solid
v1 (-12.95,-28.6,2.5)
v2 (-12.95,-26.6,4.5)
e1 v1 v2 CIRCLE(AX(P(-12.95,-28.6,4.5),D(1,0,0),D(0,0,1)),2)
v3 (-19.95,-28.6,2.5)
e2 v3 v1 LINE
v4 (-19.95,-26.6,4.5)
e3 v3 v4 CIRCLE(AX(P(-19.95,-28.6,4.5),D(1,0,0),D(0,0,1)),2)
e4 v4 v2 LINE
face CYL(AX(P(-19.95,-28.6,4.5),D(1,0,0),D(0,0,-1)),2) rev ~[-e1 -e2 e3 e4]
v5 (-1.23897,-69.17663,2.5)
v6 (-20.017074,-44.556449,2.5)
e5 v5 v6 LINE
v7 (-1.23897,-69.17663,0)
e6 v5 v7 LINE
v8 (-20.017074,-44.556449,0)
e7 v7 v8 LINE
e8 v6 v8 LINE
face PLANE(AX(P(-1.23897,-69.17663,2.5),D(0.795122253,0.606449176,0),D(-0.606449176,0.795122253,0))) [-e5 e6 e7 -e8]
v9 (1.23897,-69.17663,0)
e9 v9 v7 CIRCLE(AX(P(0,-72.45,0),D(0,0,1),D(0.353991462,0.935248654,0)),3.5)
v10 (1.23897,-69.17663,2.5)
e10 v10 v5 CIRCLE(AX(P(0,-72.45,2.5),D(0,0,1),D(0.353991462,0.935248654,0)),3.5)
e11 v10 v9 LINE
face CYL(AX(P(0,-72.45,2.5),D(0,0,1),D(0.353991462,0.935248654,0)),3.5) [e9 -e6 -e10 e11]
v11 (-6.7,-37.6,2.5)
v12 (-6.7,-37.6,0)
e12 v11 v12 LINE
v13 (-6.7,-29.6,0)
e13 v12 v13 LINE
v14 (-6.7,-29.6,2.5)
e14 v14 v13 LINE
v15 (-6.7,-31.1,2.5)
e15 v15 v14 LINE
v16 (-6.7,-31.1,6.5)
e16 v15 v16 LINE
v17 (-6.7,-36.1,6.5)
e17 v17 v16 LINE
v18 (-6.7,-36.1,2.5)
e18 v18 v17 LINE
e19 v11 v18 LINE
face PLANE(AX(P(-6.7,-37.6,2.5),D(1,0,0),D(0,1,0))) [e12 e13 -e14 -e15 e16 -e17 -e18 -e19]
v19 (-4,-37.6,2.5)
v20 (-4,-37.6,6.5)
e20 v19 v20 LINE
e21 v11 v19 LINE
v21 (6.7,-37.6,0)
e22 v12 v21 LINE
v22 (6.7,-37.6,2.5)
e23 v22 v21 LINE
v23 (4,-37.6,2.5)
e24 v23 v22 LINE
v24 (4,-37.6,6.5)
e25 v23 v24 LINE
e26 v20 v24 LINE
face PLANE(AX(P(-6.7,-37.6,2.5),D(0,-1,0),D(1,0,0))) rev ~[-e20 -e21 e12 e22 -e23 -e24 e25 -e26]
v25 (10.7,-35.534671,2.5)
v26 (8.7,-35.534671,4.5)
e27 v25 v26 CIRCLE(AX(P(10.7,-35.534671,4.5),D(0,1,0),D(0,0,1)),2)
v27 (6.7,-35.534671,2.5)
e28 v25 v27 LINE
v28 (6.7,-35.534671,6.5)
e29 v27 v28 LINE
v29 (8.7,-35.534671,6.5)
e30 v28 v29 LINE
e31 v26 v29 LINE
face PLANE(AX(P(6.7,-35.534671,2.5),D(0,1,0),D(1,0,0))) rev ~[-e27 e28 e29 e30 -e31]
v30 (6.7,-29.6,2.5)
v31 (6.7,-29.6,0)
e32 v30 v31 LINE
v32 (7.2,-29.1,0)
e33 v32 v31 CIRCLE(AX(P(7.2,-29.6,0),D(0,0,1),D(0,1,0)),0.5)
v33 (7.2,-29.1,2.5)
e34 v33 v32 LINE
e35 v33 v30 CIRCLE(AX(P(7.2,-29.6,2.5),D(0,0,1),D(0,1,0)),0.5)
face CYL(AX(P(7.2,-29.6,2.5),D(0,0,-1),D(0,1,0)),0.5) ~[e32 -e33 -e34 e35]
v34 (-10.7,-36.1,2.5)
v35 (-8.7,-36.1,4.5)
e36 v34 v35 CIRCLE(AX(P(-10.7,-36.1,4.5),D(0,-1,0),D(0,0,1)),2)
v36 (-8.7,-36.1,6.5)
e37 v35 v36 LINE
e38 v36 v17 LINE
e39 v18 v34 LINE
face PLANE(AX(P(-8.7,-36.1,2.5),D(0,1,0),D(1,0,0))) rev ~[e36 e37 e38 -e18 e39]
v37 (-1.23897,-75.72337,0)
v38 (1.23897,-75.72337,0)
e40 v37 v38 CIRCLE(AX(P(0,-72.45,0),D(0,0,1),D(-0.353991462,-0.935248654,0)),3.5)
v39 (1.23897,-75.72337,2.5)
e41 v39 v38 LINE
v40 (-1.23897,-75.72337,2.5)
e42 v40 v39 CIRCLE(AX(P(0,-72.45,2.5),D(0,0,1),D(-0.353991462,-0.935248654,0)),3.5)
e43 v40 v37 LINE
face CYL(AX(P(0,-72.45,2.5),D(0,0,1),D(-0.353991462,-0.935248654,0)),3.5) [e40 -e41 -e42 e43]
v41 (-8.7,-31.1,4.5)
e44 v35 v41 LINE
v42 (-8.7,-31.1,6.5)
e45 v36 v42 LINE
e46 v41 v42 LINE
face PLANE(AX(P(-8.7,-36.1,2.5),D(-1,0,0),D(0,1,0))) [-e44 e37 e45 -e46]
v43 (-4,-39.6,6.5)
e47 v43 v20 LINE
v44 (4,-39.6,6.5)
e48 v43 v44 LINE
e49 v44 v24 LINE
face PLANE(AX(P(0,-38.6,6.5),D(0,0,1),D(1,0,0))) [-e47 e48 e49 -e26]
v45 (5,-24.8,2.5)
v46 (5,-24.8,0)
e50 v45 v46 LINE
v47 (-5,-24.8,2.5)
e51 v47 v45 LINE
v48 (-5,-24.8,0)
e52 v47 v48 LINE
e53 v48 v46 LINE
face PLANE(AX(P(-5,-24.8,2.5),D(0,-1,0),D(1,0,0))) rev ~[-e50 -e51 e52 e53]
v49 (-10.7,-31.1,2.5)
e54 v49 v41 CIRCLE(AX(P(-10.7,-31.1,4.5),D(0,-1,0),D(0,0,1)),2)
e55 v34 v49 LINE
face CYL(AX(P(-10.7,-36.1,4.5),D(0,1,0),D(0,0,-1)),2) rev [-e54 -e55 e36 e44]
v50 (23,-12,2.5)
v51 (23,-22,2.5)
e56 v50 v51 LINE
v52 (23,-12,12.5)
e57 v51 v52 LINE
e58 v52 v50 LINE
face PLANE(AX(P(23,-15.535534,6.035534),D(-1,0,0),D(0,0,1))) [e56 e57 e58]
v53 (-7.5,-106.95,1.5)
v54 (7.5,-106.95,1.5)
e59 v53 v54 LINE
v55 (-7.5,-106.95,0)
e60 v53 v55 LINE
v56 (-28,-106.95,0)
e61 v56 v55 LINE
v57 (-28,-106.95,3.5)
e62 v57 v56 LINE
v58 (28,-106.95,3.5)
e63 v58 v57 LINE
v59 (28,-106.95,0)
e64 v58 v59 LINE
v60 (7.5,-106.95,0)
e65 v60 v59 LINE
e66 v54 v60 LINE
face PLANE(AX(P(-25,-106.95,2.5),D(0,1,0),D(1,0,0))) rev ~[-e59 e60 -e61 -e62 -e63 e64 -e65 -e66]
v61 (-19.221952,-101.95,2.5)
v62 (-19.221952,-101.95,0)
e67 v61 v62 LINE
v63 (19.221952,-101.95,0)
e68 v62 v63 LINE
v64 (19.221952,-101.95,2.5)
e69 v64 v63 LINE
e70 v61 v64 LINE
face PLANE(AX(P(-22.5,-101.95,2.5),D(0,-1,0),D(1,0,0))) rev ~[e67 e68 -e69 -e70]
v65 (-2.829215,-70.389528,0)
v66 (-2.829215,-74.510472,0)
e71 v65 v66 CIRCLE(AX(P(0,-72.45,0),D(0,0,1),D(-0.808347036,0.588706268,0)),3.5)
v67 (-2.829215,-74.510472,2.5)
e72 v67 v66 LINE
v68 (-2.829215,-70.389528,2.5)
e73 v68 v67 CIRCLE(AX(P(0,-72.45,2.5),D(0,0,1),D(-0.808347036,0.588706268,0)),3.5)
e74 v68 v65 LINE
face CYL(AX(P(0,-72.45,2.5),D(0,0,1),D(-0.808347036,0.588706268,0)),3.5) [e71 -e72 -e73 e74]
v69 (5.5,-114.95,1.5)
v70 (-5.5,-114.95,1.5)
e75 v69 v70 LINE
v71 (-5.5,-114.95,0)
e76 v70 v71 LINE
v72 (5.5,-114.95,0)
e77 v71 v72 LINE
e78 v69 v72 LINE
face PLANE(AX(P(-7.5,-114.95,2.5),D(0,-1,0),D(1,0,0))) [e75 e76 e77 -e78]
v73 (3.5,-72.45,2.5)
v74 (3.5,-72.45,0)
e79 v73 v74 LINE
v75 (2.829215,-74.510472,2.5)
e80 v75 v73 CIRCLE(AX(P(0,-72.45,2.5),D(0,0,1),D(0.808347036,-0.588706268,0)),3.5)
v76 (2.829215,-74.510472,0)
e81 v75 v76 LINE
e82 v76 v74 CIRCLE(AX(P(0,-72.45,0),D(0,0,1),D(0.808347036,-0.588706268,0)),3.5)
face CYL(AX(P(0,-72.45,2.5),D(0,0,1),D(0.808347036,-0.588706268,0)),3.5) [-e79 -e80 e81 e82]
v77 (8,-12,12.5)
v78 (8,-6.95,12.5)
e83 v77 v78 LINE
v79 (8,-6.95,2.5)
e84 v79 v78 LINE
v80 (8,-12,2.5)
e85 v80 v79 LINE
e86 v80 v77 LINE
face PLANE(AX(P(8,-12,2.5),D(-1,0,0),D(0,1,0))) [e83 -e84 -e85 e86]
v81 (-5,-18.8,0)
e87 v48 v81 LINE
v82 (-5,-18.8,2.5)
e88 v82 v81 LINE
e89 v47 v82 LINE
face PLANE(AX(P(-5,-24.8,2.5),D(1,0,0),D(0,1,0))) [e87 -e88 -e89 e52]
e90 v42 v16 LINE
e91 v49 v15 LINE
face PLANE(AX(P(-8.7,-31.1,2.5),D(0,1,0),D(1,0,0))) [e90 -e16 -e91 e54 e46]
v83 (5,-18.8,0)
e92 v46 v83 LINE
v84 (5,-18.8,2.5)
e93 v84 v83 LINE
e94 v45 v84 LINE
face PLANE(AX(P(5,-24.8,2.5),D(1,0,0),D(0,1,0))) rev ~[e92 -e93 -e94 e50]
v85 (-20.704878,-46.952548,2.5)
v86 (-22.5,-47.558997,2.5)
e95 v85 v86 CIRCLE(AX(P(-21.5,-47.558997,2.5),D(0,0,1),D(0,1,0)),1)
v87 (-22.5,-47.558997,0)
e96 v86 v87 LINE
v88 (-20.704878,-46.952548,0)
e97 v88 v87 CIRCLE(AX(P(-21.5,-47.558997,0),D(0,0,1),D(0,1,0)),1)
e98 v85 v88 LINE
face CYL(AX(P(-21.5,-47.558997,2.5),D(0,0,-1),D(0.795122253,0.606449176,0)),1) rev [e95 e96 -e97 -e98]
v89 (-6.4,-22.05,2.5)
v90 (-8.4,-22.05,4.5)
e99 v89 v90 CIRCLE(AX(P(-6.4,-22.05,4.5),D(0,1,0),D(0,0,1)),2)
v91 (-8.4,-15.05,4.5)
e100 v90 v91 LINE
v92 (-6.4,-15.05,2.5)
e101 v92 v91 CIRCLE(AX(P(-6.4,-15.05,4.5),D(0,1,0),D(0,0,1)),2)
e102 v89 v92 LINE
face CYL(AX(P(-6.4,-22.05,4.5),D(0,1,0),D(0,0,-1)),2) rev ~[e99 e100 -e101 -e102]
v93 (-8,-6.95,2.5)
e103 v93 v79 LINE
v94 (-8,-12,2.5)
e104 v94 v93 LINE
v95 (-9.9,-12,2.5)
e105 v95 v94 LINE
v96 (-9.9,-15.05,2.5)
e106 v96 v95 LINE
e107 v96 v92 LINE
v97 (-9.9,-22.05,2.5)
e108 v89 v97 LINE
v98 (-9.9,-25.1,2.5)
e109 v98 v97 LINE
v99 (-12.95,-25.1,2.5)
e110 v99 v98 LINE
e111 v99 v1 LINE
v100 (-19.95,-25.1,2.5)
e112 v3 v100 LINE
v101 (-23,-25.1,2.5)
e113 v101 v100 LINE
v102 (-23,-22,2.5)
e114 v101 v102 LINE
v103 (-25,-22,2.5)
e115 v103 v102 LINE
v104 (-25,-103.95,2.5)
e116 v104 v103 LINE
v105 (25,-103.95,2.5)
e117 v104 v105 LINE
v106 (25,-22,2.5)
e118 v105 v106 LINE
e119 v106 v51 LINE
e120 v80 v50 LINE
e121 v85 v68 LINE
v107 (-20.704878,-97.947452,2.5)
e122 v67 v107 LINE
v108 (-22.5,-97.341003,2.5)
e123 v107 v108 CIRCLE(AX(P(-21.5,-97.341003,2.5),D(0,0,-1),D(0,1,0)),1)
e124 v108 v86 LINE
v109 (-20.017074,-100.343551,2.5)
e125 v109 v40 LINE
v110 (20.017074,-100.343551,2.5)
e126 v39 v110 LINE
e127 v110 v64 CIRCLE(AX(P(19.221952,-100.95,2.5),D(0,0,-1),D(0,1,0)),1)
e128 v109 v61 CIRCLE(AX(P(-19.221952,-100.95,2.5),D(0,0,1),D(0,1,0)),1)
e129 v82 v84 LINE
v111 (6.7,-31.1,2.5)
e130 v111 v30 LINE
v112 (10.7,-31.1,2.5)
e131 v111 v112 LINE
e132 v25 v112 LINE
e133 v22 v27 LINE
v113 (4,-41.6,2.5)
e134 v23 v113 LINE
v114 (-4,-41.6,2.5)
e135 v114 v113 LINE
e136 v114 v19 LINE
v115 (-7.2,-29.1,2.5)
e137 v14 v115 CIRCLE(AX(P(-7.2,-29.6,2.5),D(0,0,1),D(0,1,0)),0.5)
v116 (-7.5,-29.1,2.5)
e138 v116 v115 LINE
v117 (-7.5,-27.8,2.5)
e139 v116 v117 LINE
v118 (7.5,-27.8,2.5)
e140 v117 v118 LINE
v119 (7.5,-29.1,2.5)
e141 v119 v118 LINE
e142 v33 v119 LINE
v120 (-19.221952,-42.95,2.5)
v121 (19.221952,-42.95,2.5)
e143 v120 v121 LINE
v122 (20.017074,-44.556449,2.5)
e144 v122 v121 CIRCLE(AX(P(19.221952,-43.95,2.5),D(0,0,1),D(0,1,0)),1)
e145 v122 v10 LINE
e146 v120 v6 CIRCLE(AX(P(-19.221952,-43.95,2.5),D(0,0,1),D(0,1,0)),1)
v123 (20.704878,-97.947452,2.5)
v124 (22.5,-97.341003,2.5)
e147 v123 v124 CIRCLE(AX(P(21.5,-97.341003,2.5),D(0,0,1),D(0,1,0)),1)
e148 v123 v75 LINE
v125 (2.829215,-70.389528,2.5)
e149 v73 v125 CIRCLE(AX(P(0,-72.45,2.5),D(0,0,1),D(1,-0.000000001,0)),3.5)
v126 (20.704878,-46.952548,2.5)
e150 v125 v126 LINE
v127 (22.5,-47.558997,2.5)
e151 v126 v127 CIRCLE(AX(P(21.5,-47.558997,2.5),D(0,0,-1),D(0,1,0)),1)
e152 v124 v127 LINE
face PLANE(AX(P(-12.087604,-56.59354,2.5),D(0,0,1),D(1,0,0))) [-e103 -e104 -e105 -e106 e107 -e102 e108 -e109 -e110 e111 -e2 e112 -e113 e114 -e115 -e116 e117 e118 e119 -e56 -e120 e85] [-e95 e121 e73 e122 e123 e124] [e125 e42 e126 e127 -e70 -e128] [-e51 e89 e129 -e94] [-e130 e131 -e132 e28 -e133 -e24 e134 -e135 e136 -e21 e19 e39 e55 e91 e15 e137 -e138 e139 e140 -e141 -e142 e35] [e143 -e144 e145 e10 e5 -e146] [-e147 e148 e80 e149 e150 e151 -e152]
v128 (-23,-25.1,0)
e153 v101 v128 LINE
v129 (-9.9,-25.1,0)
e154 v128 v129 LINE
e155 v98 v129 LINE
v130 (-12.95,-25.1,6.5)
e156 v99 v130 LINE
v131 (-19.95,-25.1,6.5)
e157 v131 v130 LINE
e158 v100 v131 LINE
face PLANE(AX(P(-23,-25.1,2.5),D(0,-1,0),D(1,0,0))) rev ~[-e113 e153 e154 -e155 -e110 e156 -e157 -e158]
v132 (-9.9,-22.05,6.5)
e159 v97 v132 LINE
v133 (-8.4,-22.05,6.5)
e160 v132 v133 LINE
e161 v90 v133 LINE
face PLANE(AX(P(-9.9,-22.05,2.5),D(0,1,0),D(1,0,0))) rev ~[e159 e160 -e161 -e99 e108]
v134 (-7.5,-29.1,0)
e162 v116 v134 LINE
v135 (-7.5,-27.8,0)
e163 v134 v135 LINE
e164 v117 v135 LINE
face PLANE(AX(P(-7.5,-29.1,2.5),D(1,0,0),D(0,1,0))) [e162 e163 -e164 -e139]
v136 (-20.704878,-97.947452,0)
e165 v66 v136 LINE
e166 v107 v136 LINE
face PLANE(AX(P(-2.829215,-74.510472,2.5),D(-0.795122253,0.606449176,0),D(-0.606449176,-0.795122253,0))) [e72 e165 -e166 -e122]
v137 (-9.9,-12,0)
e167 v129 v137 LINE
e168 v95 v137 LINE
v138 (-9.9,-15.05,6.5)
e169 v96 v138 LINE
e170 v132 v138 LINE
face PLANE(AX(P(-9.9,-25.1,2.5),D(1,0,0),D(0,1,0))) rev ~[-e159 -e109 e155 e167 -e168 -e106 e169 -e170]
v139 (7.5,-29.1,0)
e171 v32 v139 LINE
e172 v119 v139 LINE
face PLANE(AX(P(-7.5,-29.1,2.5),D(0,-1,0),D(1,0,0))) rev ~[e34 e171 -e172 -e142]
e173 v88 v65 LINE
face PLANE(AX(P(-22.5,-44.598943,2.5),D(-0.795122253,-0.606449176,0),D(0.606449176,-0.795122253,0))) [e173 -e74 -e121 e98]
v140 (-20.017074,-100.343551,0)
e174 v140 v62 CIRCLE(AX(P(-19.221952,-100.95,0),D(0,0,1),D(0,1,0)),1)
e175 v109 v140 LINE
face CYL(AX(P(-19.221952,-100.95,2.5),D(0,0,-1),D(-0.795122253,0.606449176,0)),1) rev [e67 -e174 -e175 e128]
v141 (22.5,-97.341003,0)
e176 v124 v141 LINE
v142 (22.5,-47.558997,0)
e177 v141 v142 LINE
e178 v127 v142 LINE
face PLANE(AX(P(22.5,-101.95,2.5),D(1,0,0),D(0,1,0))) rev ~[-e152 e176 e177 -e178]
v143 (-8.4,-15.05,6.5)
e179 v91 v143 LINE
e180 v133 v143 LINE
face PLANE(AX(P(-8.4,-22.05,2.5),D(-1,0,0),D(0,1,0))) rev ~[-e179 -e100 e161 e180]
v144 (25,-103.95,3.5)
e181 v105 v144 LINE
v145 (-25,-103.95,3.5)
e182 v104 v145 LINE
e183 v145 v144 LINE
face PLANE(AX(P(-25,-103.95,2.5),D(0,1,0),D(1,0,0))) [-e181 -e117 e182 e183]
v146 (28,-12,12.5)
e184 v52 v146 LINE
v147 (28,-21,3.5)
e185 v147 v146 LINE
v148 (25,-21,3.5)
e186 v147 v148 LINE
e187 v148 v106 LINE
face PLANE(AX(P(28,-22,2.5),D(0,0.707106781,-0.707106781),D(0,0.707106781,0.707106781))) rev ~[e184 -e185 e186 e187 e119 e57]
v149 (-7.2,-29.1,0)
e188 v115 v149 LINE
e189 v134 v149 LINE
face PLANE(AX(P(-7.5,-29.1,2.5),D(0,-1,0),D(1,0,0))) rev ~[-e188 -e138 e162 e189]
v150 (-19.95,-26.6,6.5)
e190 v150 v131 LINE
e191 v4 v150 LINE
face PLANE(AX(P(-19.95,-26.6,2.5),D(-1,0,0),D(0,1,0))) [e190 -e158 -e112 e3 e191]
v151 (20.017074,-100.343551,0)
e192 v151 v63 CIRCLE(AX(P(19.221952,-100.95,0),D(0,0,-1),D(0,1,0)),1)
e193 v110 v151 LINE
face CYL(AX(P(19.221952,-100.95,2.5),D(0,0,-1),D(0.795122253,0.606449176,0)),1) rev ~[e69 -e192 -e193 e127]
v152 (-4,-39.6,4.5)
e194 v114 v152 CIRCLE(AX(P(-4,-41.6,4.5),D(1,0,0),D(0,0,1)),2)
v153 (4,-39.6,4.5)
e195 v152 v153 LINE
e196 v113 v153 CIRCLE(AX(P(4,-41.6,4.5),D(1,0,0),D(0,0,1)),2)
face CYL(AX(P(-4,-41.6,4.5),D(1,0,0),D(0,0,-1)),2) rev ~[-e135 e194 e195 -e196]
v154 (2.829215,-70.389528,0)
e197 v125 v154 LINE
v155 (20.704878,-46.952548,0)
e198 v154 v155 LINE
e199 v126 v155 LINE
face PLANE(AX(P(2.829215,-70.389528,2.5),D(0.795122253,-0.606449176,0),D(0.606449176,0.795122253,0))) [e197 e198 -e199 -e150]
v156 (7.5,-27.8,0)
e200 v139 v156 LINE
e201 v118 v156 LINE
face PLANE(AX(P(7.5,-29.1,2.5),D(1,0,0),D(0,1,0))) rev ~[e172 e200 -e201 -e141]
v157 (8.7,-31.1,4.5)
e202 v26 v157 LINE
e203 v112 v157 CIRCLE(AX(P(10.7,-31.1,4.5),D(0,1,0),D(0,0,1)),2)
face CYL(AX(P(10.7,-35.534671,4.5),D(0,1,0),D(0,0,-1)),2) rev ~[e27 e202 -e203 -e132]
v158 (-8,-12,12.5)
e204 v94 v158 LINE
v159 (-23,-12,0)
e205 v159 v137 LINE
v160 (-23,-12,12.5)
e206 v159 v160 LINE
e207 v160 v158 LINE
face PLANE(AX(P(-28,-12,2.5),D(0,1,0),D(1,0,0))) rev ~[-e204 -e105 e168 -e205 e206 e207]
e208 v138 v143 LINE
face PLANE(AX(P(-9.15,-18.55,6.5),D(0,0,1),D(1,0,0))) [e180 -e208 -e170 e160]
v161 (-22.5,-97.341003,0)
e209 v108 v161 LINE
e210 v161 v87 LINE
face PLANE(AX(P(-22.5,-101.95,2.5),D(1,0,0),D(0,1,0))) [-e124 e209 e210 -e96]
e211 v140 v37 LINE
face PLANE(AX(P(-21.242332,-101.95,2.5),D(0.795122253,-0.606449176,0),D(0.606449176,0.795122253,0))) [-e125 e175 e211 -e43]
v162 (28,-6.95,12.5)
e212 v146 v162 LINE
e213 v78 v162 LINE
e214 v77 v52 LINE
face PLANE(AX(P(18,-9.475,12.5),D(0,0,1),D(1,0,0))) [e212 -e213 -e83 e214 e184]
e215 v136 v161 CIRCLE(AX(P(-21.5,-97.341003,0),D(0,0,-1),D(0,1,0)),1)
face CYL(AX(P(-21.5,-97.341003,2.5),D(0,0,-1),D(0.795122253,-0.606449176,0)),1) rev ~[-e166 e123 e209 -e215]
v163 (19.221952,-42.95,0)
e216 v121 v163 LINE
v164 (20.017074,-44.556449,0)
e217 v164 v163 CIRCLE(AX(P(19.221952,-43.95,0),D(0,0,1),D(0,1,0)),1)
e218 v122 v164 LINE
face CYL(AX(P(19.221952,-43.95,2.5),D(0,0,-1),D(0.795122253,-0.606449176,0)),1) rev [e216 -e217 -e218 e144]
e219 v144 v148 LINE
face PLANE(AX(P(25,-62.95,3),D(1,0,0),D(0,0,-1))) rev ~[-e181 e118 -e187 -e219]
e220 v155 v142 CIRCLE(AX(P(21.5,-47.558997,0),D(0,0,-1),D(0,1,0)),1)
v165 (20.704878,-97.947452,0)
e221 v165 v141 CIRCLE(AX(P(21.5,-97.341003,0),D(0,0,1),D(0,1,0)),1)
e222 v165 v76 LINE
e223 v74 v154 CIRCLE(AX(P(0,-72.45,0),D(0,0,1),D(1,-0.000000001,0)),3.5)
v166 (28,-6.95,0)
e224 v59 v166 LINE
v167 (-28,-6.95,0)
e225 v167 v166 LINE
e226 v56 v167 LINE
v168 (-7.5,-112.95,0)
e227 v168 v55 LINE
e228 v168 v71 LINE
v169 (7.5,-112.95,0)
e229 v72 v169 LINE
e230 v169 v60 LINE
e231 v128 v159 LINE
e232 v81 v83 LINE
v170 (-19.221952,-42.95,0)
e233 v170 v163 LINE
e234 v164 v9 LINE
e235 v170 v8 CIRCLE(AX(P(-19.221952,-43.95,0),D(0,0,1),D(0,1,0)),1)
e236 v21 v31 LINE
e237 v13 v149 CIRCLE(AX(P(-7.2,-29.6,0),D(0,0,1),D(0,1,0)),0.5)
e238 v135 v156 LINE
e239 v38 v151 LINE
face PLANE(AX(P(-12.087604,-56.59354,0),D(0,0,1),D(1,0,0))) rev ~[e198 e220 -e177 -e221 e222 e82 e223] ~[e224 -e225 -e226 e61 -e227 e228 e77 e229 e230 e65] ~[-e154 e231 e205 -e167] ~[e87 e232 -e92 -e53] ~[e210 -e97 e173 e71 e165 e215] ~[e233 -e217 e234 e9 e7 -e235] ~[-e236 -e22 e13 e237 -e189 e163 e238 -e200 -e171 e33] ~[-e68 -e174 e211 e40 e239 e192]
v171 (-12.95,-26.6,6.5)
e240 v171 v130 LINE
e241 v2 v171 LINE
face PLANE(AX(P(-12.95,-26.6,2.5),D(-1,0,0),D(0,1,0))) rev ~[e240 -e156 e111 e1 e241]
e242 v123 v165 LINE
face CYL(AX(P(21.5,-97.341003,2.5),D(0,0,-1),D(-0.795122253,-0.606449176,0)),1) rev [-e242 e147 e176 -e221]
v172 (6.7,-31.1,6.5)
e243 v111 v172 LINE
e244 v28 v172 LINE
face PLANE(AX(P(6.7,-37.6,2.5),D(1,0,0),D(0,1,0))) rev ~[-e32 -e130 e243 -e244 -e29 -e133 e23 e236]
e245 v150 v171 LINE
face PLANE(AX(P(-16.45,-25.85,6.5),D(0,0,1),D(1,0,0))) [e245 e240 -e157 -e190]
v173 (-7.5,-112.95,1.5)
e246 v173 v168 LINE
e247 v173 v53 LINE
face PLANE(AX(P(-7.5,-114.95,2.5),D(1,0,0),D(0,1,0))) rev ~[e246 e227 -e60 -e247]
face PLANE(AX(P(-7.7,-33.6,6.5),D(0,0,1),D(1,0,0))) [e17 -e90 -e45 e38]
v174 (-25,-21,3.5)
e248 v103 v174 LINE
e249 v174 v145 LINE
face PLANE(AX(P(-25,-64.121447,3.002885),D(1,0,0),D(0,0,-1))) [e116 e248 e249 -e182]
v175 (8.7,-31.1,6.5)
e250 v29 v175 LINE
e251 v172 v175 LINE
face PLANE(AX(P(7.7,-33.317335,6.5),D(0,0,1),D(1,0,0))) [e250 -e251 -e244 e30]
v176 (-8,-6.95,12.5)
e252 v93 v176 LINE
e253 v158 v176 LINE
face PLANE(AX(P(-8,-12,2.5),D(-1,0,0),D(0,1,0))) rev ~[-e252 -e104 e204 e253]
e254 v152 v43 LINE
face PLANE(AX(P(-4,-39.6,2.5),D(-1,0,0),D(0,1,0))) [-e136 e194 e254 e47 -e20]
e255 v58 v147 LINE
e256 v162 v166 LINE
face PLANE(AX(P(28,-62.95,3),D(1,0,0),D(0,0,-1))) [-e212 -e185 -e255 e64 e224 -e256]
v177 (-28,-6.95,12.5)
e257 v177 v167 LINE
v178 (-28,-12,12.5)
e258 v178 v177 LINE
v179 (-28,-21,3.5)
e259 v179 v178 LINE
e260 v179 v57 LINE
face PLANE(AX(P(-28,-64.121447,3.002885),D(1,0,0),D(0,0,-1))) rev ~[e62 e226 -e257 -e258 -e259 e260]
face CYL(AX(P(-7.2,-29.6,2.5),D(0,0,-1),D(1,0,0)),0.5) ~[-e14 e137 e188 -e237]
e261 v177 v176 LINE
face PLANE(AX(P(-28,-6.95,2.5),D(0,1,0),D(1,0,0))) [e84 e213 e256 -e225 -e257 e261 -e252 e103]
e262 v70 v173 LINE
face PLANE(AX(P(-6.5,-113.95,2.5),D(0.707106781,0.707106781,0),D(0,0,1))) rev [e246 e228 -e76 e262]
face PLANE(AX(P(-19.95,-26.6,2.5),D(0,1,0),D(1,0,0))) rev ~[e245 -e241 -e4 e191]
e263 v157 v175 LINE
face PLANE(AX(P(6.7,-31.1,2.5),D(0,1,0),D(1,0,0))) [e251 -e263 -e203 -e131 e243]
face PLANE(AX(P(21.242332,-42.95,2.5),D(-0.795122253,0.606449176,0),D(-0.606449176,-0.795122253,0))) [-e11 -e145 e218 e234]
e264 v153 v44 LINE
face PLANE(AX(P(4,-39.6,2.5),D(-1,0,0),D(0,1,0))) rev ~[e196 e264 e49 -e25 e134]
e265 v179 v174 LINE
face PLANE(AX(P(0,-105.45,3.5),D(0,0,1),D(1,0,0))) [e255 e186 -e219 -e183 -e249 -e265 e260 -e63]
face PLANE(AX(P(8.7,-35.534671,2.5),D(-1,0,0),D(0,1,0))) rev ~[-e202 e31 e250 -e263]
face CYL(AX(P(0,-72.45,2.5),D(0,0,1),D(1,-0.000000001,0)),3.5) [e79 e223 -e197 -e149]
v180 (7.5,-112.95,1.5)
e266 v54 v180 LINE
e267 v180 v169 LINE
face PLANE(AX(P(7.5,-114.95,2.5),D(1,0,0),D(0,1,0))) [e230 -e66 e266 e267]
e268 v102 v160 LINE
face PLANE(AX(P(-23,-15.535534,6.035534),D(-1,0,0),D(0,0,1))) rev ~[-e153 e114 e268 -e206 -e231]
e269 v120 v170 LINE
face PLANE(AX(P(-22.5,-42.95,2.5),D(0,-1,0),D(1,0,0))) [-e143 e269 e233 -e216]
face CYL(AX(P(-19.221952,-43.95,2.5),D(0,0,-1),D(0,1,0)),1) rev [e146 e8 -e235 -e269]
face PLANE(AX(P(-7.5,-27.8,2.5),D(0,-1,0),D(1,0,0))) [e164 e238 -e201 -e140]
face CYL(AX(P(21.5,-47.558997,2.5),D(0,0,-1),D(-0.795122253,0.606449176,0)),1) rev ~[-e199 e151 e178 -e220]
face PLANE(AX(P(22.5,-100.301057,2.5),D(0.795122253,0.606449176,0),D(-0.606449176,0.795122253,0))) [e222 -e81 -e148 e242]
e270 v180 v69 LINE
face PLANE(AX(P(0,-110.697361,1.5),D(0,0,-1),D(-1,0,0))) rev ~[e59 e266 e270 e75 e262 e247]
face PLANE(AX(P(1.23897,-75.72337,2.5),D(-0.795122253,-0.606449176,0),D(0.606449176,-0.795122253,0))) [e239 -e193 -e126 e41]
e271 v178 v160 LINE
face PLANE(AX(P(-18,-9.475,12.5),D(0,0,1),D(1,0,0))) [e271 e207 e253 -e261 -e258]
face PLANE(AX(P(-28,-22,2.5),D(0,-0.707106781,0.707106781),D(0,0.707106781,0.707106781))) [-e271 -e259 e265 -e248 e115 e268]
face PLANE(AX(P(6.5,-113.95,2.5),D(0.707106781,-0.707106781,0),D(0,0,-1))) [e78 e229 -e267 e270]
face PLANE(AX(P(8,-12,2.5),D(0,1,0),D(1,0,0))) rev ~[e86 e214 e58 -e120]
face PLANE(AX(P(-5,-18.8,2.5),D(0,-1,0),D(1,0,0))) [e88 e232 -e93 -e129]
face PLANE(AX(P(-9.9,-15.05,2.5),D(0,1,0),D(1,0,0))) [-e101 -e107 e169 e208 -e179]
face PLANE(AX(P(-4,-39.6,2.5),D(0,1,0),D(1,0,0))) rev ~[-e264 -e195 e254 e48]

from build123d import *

# Parameters (mm, degrees)
SKETCH1_W            = 56
SKETCH1_H            = 100
BOSS_EXTRUDE1_DEPTH  = 2.5
SKETCH2_W            = 20
SKETCH2_H            = 5.05
BOSS_EXTRUDE2_DEPTH  = 10
SKETCH3_W            = 13.1
SKETCH3_H            = 13.1
CUT_EXTRUDE1_DEPTH   = 112.005866962
BOSS_EXTRUDE3_DEPTH  = 5
BOSS_EXTRUDE4_DEPTH  = 5
SKETCH6_W            = 7
SKETCH6_H            = 1.5
SKETCH6_W_2          = 1.5
SKETCH6_H_2          = 7
BOSS_EXTRUDE5_DEPTH  = 4
SKETCH7_W            = 15
SKETCH7_H            = 1.3
CUT_EXTRUDE2_DEPTH   = 112.005866962
SKETCH8_W            = 13.4
SKETCH8_H            = 8.5
SKETCH8_W_2          = 10
SKETCH8_H_2          = 6
CUT_EXTRUDE3_DEPTH   = 112.005866962
FILLET1_R            = 2
SKETCH9_W            = 15
SKETCH9_H            = 8
BOSS_EXTRUDE6_DEPTH  = 2.5
CHAMFER1_SIZE        = 2
SKETCH10_W           = 45
SKETCH10_H           = 59
CUT_EXTRUDE4_DEPTH   = 4
BOSS_EXTRUDE7_DEPTH  = 2.5
FILLET2_R            = 1
FILLET3_R            = 0.5
CUT_EXTRUDE5_DEPTH   = 1
SKETCH13_W           = 1
SKETCH13_H           = 88
BOSS_EXTRUDE8_DEPTH  = 3
BOSS_EXTRUDE9_DEPTH  = 3
SKETCH15_W           = 50
SKETCH15_H           = 3
BOSS_EXTRUDE10_DEPTH = 1
SKETCH16_W           = 2
SKETCH16_H           = 5
SKETCH16_W_2         = 8
SKETCH16_H_2         = 2
SKETCH16_H_3         = 4.4346707
BOSS_EXTRUDE11_DEPTH = 4
FILLET4_R            = 2


with BuildPart() as part:
    # Sketch1 → Boss-Extrude1 (new body)
    with BuildSketch(Plane.XY):
        with Locations((0, -56.95)):
            Rectangle(SKETCH1_W, SKETCH1_H)
    extrude(amount=BOSS_EXTRUDE1_DEPTH)

    # Sketch2 → Boss-Extrude2 (add)
    with BuildSketch(Plane.XY.offset(2.5)):
        with Locations((-18, -9.475)):
            Rectangle(SKETCH2_W, SKETCH2_H)
        with Locations((18, -9.475)):
            Rectangle(SKETCH2_W, SKETCH2_H)
    extrude(amount=BOSS_EXTRUDE2_DEPTH)

    # Sketch3 → Cut-Extrude1 (cut, through all)
    with BuildSketch(Plane.XY.offset(2.5)):
        with Locations((-16.45, -18.55)):
            Rectangle(SKETCH3_W, SKETCH3_H)
    extrude(amount=-CUT_EXTRUDE1_DEPTH, mode=Mode.SUBTRACT)

    # Sketch4 → Boss-Extrude3 (add)
    with BuildSketch(Plane(origin=(28, 0, 0), x_dir=(0, 0, -1), z_dir=(1, 0, 0))):
        Polygon((-12.5, -12), (-2.5, -12), (-2.5, -22), align=None)
    extrude(amount=-BOSS_EXTRUDE3_DEPTH)

    # Sketch5 → Boss-Extrude4 (add)
    with BuildSketch(Plane.ZY.offset(28)):
        Polygon((2.5, -22), (12.5, -12), (2.5, -12), align=None)
    extrude(amount=-BOSS_EXTRUDE4_DEPTH)

    # Sketch6 → Boss-Extrude5 (add)
    with BuildSketch(Plane.XY.offset(2.5)):
        with Locations((-16.45, -25.85)):
            Rectangle(SKETCH6_W, SKETCH6_H)
        with Locations((-9.15, -18.55)):
            Rectangle(SKETCH6_W_2, SKETCH6_H_2)
    extrude(amount=BOSS_EXTRUDE5_DEPTH)

    # Sketch7 → Cut-Extrude2 (cut, through all)
    with BuildSketch(Plane.XY.offset(2.5)):
        with Locations((0, -28.45)):
            Rectangle(SKETCH7_W, SKETCH7_H)
    extrude(amount=-CUT_EXTRUDE2_DEPTH, mode=Mode.SUBTRACT)

    # Sketch8 → Cut-Extrude3 (cut, through all)
    with BuildSketch(Plane.XY.offset(2.5)):
        with Locations((0, -33.35)):
            Rectangle(SKETCH8_W, SKETCH8_H)
        with Locations((0, -21.8)):
            Rectangle(SKETCH8_W_2, SKETCH8_H_2)
    extrude(amount=-CUT_EXTRUDE3_DEPTH, mode=Mode.SUBTRACT)

    # Fillet1
    fillet1_edges = [part.edges().sort_by_distance(p)[0] for p in [
        (-16.45, -26.6, 2.5),
        (-8.4, -18.55, 2.5),
    ]]
    fillet(fillet1_edges, radius=FILLET1_R)

    # Sketch9 → Boss-Extrude6 (add)
    with BuildSketch(Plane.XY.offset(2.5)):
        with Locations((0, -110.95)):
            Rectangle(SKETCH9_W, SKETCH9_H)
    extrude(amount=-BOSS_EXTRUDE6_DEPTH)

    # Chamfer1
    chamfer1_edges = [part.edges().sort_by_distance(p)[0] for p in [
        (-7.5, -114.95, 1.25),
        (7.5, -114.95, 1.25),
    ]]
    chamfer(chamfer1_edges, length=CHAMFER1_SIZE)

    # Sketch10 → Cut-Extrude4 (cut)
    with BuildSketch(Plane.XY.offset(2.5)):
        with Locations((0, -72.45)):
            Rectangle(SKETCH10_W, SKETCH10_H)
    extrude(amount=-CUT_EXTRUDE4_DEPTH, mode=Mode.SUBTRACT)

    # Sketch11 → Boss-Extrude7 (add)
    with BuildSketch(Plane.XY.offset(2.5)):
        with BuildLine():
            Line((-21.242331765, -42.95), (-22.5, -42.95))
            Line((-22.5, -42.95), (-22.5, -44.598942796))
            Line((-22.5, -44.598942796), (-2.829214626, -70.389528064))
            ThreePointArc((-2.829214626, -70.389528064), (-2.122572116, -69.667072115), (-1.238970121, -69.176629712))
            Line((-1.238970121, -69.176629712), (-21.242331765, -42.95))
        make_face()
        with BuildLine():
            Line((22.5, -42.95), (21.242331765, -42.95))
            Line((21.242331765, -42.95), (1.238970121, -69.176629712))
            ThreePointArc((1.238970121, -69.176629712), (2.122572116, -69.667072115), (2.829214626, -70.389528064))
            Line((2.829214626, -70.389528064), (22.5, -44.598942796))
            Line((22.5, -44.598942796), (22.5, -42.95))
        make_face()
        with BuildLine():
            Line((22.5, -100.301057204), (2.829214626, -74.510471936))
            ThreePointArc((2.829214626, -74.510471936), (2.122572116, -75.232927885), (1.238970121, -75.723370288))
            Line((1.238970121, -75.723370288), (21.242331765, -101.95))
            Line((21.242331765, -101.95), (22.5, -101.95))
            Line((22.5, -101.95), (22.5, -100.301057204))
        make_face()
        with BuildLine():
            Line((-2.829214626, -74.510471936), (-22.5, -100.301057204))
            Line((-22.5, -100.301057204), (-22.5, -101.95))
            Line((-22.5, -101.95), (-21.242331765, -101.95))
            Line((-21.242331765, -101.95), (-1.238970121, -75.723370288))
            ThreePointArc((-1.238970121, -75.723370288), (-2.122572116, -75.232927885), (-2.829214626, -74.510471936))
        make_face()
        with BuildLine():
            Line((-1.257668235, -72.45), (-2.829214626, -70.389528064))
            ThreePointArc((-2.829214626, -70.389528064), (-3.5, -72.45), (-2.829214626, -74.510471936))
            Line((-2.829214626, -74.510471936), (-1.257668235, -72.45))
        make_face()
        with BuildLine():
            Line((0, -70.801057204), (-1.238970121, -69.176629712))
            ThreePointArc((-1.238970121, -69.176629712), (-2.122572116, -69.667072115), (-2.829214626, -70.389528064))
            Line((-2.829214626, -70.389528064), (-1.257668235, -72.45))
            Line((-1.257668235, -72.45), (0, -70.801057204))
        make_face()
        with BuildLine():
            Line((0, -74.098942796), (-1.257668235, -72.45))
            Line((-1.257668235, -72.45), (-2.829214626, -74.510471936))
            ThreePointArc((-2.829214626, -74.510471936), (-2.122572116, -75.232927885), (-1.238970121, -75.723370288))
            Line((-1.238970121, -75.723370288), (0, -74.098942796))
        make_face()
        with BuildLine():
            Line((1.238970121, -75.723370288), (0, -74.098942796))
            Line((0, -74.098942796), (-1.238970121, -75.723370288))
            ThreePointArc((-1.238970121, -75.723370288), (0, -75.95), (1.238970121, -75.723370288))
        make_face()
        with BuildLine():
            Line((2.829214626, -70.389528064), (1.257668235, -72.45))
            Line((1.257668235, -72.45), (2.829214626, -74.510471936))
            ThreePointArc((2.829214626, -74.510471936), (3.328081369, -73.533454846), (3.5, -72.45))
            ThreePointArc((3.5, -72.45), (3.328081369, -71.366545154), (2.829214626, -70.389528064))
        make_face()
        with BuildLine():
            Line((2.829214626, -74.510471936), (1.257668235, -72.45))
            Line((1.257668235, -72.45), (0, -74.098942796))
            Line((0, -74.098942796), (1.238970121, -75.723370288))
            ThreePointArc((1.238970121, -75.723370288), (2.122572116, -75.232927885), (2.829214626, -74.510471936))
        make_face()
        with BuildLine():
            Line((1.238970121, -69.176629712), (0, -70.801057204))
            Line((0, -70.801057204), (1.257668235, -72.45))
            Line((1.257668235, -72.45), (2.829214626, -70.389528064))
            ThreePointArc((2.829214626, -70.389528064), (2.122572116, -69.667072115), (1.238970121, -69.176629712))
        make_face()
        with BuildLine():
            ThreePointArc((1.238970121, -69.176629712), (0, -68.95), (-1.238970121, -69.176629712))
            Line((-1.238970121, -69.176629712), (0, -70.801057204))
            Line((0, -70.801057204), (1.238970121, -69.176629712))
        make_face()
        Polygon((1.257668235, -72.45), (0, -70.801057204), (-1.257668235, -72.45), (0, -74.098942796), align=None)
    extrude(amount=-BOSS_EXTRUDE7_DEPTH)

    # Fillet2
    fillet2_edges = [part.edges().sort_by_distance(p)[0] for p in [
        (-22.5, -100.301057204, 1.25),
        (-21.242331765, -101.95, 1.25),
        (21.242331765, -101.95, 1.25),
        (22.5, -100.301057204, 1.25),
        (22.5, -44.598942796, 1.25),
        (21.242331765, -42.95, 1.25),
        (-21.242331765, -42.95, 1.25),
        (-22.5, -44.598942796, 1.25),
    ]]
    fillet(fillet2_edges, radius=FILLET2_R)

    # Fillet3
    fillet3_edges = [part.edges().sort_by_distance(p)[0] for p in [
        (6.7, -29.1, 1.25),
        (-6.7, -29.1, 1.25),
    ]]
    fillet(fillet3_edges, radius=FILLET3_R)

    # Sketch12 → Cut-Extrude5 (cut)
    with BuildSketch(Plane.XY.offset(2.5)):
        Polygon((-7.5, -106.95), (7.5, -106.95), (7.5, -112.95), (5.5, -114.95), (-5.5, -114.95), (-7.5, -112.95), align=None)
    extrude(amount=-CUT_EXTRUDE5_DEPTH, mode=Mode.SUBTRACT)

    # Sketch13 → Boss-Extrude8 (add)
    with BuildSketch(Plane(origin=(28, 0, 0), x_dir=(0, 0, -1), z_dir=(1, 0, 0))):
        with Locations((-3, -62.95)):
            Rectangle(SKETCH13_W, SKETCH13_H)
    extrude(amount=-BOSS_EXTRUDE8_DEPTH)

    # Sketch14 → Boss-Extrude9 (add)
    with BuildSketch(Plane.ZY.offset(28)):
        Polygon((3.5, -21), (3.5, -106.95), (2.5, -106.95), (2.5, -22), align=None)
    extrude(amount=-BOSS_EXTRUDE9_DEPTH)

    # Sketch15 → Boss-Extrude10 (add)
    with BuildSketch(Plane.XY.offset(2.5)):
        with Locations((0, -105.45)):
            Rectangle(SKETCH15_W, SKETCH15_H)
    extrude(amount=BOSS_EXTRUDE10_DEPTH)

    # Sketch16 → Boss-Extrude11 (add)
    with BuildSketch(Plane.XY.offset(2.5)):
        with Locations((-7.7, -33.6)):
            Rectangle(SKETCH16_W, SKETCH16_H)
        with Locations((0, -38.6)):
            Rectangle(SKETCH16_W_2, SKETCH16_H_2)
        with Locations((7.7, -33.31733535)):
            Rectangle(SKETCH16_W, SKETCH16_H_3)
    extrude(amount=BOSS_EXTRUDE11_DEPTH)

    # Fillet4
    fillet4_edges = [part.edges().sort_by_distance(p)[0] for p in [
        (-8.7, -33.6, 2.5),
        (0, -39.6, 2.5),
        (8.7, -33.31733535, 2.5),
    ]]
    fillet(fillet4_edges, radius=FILLET4_R)


solid = part.part
